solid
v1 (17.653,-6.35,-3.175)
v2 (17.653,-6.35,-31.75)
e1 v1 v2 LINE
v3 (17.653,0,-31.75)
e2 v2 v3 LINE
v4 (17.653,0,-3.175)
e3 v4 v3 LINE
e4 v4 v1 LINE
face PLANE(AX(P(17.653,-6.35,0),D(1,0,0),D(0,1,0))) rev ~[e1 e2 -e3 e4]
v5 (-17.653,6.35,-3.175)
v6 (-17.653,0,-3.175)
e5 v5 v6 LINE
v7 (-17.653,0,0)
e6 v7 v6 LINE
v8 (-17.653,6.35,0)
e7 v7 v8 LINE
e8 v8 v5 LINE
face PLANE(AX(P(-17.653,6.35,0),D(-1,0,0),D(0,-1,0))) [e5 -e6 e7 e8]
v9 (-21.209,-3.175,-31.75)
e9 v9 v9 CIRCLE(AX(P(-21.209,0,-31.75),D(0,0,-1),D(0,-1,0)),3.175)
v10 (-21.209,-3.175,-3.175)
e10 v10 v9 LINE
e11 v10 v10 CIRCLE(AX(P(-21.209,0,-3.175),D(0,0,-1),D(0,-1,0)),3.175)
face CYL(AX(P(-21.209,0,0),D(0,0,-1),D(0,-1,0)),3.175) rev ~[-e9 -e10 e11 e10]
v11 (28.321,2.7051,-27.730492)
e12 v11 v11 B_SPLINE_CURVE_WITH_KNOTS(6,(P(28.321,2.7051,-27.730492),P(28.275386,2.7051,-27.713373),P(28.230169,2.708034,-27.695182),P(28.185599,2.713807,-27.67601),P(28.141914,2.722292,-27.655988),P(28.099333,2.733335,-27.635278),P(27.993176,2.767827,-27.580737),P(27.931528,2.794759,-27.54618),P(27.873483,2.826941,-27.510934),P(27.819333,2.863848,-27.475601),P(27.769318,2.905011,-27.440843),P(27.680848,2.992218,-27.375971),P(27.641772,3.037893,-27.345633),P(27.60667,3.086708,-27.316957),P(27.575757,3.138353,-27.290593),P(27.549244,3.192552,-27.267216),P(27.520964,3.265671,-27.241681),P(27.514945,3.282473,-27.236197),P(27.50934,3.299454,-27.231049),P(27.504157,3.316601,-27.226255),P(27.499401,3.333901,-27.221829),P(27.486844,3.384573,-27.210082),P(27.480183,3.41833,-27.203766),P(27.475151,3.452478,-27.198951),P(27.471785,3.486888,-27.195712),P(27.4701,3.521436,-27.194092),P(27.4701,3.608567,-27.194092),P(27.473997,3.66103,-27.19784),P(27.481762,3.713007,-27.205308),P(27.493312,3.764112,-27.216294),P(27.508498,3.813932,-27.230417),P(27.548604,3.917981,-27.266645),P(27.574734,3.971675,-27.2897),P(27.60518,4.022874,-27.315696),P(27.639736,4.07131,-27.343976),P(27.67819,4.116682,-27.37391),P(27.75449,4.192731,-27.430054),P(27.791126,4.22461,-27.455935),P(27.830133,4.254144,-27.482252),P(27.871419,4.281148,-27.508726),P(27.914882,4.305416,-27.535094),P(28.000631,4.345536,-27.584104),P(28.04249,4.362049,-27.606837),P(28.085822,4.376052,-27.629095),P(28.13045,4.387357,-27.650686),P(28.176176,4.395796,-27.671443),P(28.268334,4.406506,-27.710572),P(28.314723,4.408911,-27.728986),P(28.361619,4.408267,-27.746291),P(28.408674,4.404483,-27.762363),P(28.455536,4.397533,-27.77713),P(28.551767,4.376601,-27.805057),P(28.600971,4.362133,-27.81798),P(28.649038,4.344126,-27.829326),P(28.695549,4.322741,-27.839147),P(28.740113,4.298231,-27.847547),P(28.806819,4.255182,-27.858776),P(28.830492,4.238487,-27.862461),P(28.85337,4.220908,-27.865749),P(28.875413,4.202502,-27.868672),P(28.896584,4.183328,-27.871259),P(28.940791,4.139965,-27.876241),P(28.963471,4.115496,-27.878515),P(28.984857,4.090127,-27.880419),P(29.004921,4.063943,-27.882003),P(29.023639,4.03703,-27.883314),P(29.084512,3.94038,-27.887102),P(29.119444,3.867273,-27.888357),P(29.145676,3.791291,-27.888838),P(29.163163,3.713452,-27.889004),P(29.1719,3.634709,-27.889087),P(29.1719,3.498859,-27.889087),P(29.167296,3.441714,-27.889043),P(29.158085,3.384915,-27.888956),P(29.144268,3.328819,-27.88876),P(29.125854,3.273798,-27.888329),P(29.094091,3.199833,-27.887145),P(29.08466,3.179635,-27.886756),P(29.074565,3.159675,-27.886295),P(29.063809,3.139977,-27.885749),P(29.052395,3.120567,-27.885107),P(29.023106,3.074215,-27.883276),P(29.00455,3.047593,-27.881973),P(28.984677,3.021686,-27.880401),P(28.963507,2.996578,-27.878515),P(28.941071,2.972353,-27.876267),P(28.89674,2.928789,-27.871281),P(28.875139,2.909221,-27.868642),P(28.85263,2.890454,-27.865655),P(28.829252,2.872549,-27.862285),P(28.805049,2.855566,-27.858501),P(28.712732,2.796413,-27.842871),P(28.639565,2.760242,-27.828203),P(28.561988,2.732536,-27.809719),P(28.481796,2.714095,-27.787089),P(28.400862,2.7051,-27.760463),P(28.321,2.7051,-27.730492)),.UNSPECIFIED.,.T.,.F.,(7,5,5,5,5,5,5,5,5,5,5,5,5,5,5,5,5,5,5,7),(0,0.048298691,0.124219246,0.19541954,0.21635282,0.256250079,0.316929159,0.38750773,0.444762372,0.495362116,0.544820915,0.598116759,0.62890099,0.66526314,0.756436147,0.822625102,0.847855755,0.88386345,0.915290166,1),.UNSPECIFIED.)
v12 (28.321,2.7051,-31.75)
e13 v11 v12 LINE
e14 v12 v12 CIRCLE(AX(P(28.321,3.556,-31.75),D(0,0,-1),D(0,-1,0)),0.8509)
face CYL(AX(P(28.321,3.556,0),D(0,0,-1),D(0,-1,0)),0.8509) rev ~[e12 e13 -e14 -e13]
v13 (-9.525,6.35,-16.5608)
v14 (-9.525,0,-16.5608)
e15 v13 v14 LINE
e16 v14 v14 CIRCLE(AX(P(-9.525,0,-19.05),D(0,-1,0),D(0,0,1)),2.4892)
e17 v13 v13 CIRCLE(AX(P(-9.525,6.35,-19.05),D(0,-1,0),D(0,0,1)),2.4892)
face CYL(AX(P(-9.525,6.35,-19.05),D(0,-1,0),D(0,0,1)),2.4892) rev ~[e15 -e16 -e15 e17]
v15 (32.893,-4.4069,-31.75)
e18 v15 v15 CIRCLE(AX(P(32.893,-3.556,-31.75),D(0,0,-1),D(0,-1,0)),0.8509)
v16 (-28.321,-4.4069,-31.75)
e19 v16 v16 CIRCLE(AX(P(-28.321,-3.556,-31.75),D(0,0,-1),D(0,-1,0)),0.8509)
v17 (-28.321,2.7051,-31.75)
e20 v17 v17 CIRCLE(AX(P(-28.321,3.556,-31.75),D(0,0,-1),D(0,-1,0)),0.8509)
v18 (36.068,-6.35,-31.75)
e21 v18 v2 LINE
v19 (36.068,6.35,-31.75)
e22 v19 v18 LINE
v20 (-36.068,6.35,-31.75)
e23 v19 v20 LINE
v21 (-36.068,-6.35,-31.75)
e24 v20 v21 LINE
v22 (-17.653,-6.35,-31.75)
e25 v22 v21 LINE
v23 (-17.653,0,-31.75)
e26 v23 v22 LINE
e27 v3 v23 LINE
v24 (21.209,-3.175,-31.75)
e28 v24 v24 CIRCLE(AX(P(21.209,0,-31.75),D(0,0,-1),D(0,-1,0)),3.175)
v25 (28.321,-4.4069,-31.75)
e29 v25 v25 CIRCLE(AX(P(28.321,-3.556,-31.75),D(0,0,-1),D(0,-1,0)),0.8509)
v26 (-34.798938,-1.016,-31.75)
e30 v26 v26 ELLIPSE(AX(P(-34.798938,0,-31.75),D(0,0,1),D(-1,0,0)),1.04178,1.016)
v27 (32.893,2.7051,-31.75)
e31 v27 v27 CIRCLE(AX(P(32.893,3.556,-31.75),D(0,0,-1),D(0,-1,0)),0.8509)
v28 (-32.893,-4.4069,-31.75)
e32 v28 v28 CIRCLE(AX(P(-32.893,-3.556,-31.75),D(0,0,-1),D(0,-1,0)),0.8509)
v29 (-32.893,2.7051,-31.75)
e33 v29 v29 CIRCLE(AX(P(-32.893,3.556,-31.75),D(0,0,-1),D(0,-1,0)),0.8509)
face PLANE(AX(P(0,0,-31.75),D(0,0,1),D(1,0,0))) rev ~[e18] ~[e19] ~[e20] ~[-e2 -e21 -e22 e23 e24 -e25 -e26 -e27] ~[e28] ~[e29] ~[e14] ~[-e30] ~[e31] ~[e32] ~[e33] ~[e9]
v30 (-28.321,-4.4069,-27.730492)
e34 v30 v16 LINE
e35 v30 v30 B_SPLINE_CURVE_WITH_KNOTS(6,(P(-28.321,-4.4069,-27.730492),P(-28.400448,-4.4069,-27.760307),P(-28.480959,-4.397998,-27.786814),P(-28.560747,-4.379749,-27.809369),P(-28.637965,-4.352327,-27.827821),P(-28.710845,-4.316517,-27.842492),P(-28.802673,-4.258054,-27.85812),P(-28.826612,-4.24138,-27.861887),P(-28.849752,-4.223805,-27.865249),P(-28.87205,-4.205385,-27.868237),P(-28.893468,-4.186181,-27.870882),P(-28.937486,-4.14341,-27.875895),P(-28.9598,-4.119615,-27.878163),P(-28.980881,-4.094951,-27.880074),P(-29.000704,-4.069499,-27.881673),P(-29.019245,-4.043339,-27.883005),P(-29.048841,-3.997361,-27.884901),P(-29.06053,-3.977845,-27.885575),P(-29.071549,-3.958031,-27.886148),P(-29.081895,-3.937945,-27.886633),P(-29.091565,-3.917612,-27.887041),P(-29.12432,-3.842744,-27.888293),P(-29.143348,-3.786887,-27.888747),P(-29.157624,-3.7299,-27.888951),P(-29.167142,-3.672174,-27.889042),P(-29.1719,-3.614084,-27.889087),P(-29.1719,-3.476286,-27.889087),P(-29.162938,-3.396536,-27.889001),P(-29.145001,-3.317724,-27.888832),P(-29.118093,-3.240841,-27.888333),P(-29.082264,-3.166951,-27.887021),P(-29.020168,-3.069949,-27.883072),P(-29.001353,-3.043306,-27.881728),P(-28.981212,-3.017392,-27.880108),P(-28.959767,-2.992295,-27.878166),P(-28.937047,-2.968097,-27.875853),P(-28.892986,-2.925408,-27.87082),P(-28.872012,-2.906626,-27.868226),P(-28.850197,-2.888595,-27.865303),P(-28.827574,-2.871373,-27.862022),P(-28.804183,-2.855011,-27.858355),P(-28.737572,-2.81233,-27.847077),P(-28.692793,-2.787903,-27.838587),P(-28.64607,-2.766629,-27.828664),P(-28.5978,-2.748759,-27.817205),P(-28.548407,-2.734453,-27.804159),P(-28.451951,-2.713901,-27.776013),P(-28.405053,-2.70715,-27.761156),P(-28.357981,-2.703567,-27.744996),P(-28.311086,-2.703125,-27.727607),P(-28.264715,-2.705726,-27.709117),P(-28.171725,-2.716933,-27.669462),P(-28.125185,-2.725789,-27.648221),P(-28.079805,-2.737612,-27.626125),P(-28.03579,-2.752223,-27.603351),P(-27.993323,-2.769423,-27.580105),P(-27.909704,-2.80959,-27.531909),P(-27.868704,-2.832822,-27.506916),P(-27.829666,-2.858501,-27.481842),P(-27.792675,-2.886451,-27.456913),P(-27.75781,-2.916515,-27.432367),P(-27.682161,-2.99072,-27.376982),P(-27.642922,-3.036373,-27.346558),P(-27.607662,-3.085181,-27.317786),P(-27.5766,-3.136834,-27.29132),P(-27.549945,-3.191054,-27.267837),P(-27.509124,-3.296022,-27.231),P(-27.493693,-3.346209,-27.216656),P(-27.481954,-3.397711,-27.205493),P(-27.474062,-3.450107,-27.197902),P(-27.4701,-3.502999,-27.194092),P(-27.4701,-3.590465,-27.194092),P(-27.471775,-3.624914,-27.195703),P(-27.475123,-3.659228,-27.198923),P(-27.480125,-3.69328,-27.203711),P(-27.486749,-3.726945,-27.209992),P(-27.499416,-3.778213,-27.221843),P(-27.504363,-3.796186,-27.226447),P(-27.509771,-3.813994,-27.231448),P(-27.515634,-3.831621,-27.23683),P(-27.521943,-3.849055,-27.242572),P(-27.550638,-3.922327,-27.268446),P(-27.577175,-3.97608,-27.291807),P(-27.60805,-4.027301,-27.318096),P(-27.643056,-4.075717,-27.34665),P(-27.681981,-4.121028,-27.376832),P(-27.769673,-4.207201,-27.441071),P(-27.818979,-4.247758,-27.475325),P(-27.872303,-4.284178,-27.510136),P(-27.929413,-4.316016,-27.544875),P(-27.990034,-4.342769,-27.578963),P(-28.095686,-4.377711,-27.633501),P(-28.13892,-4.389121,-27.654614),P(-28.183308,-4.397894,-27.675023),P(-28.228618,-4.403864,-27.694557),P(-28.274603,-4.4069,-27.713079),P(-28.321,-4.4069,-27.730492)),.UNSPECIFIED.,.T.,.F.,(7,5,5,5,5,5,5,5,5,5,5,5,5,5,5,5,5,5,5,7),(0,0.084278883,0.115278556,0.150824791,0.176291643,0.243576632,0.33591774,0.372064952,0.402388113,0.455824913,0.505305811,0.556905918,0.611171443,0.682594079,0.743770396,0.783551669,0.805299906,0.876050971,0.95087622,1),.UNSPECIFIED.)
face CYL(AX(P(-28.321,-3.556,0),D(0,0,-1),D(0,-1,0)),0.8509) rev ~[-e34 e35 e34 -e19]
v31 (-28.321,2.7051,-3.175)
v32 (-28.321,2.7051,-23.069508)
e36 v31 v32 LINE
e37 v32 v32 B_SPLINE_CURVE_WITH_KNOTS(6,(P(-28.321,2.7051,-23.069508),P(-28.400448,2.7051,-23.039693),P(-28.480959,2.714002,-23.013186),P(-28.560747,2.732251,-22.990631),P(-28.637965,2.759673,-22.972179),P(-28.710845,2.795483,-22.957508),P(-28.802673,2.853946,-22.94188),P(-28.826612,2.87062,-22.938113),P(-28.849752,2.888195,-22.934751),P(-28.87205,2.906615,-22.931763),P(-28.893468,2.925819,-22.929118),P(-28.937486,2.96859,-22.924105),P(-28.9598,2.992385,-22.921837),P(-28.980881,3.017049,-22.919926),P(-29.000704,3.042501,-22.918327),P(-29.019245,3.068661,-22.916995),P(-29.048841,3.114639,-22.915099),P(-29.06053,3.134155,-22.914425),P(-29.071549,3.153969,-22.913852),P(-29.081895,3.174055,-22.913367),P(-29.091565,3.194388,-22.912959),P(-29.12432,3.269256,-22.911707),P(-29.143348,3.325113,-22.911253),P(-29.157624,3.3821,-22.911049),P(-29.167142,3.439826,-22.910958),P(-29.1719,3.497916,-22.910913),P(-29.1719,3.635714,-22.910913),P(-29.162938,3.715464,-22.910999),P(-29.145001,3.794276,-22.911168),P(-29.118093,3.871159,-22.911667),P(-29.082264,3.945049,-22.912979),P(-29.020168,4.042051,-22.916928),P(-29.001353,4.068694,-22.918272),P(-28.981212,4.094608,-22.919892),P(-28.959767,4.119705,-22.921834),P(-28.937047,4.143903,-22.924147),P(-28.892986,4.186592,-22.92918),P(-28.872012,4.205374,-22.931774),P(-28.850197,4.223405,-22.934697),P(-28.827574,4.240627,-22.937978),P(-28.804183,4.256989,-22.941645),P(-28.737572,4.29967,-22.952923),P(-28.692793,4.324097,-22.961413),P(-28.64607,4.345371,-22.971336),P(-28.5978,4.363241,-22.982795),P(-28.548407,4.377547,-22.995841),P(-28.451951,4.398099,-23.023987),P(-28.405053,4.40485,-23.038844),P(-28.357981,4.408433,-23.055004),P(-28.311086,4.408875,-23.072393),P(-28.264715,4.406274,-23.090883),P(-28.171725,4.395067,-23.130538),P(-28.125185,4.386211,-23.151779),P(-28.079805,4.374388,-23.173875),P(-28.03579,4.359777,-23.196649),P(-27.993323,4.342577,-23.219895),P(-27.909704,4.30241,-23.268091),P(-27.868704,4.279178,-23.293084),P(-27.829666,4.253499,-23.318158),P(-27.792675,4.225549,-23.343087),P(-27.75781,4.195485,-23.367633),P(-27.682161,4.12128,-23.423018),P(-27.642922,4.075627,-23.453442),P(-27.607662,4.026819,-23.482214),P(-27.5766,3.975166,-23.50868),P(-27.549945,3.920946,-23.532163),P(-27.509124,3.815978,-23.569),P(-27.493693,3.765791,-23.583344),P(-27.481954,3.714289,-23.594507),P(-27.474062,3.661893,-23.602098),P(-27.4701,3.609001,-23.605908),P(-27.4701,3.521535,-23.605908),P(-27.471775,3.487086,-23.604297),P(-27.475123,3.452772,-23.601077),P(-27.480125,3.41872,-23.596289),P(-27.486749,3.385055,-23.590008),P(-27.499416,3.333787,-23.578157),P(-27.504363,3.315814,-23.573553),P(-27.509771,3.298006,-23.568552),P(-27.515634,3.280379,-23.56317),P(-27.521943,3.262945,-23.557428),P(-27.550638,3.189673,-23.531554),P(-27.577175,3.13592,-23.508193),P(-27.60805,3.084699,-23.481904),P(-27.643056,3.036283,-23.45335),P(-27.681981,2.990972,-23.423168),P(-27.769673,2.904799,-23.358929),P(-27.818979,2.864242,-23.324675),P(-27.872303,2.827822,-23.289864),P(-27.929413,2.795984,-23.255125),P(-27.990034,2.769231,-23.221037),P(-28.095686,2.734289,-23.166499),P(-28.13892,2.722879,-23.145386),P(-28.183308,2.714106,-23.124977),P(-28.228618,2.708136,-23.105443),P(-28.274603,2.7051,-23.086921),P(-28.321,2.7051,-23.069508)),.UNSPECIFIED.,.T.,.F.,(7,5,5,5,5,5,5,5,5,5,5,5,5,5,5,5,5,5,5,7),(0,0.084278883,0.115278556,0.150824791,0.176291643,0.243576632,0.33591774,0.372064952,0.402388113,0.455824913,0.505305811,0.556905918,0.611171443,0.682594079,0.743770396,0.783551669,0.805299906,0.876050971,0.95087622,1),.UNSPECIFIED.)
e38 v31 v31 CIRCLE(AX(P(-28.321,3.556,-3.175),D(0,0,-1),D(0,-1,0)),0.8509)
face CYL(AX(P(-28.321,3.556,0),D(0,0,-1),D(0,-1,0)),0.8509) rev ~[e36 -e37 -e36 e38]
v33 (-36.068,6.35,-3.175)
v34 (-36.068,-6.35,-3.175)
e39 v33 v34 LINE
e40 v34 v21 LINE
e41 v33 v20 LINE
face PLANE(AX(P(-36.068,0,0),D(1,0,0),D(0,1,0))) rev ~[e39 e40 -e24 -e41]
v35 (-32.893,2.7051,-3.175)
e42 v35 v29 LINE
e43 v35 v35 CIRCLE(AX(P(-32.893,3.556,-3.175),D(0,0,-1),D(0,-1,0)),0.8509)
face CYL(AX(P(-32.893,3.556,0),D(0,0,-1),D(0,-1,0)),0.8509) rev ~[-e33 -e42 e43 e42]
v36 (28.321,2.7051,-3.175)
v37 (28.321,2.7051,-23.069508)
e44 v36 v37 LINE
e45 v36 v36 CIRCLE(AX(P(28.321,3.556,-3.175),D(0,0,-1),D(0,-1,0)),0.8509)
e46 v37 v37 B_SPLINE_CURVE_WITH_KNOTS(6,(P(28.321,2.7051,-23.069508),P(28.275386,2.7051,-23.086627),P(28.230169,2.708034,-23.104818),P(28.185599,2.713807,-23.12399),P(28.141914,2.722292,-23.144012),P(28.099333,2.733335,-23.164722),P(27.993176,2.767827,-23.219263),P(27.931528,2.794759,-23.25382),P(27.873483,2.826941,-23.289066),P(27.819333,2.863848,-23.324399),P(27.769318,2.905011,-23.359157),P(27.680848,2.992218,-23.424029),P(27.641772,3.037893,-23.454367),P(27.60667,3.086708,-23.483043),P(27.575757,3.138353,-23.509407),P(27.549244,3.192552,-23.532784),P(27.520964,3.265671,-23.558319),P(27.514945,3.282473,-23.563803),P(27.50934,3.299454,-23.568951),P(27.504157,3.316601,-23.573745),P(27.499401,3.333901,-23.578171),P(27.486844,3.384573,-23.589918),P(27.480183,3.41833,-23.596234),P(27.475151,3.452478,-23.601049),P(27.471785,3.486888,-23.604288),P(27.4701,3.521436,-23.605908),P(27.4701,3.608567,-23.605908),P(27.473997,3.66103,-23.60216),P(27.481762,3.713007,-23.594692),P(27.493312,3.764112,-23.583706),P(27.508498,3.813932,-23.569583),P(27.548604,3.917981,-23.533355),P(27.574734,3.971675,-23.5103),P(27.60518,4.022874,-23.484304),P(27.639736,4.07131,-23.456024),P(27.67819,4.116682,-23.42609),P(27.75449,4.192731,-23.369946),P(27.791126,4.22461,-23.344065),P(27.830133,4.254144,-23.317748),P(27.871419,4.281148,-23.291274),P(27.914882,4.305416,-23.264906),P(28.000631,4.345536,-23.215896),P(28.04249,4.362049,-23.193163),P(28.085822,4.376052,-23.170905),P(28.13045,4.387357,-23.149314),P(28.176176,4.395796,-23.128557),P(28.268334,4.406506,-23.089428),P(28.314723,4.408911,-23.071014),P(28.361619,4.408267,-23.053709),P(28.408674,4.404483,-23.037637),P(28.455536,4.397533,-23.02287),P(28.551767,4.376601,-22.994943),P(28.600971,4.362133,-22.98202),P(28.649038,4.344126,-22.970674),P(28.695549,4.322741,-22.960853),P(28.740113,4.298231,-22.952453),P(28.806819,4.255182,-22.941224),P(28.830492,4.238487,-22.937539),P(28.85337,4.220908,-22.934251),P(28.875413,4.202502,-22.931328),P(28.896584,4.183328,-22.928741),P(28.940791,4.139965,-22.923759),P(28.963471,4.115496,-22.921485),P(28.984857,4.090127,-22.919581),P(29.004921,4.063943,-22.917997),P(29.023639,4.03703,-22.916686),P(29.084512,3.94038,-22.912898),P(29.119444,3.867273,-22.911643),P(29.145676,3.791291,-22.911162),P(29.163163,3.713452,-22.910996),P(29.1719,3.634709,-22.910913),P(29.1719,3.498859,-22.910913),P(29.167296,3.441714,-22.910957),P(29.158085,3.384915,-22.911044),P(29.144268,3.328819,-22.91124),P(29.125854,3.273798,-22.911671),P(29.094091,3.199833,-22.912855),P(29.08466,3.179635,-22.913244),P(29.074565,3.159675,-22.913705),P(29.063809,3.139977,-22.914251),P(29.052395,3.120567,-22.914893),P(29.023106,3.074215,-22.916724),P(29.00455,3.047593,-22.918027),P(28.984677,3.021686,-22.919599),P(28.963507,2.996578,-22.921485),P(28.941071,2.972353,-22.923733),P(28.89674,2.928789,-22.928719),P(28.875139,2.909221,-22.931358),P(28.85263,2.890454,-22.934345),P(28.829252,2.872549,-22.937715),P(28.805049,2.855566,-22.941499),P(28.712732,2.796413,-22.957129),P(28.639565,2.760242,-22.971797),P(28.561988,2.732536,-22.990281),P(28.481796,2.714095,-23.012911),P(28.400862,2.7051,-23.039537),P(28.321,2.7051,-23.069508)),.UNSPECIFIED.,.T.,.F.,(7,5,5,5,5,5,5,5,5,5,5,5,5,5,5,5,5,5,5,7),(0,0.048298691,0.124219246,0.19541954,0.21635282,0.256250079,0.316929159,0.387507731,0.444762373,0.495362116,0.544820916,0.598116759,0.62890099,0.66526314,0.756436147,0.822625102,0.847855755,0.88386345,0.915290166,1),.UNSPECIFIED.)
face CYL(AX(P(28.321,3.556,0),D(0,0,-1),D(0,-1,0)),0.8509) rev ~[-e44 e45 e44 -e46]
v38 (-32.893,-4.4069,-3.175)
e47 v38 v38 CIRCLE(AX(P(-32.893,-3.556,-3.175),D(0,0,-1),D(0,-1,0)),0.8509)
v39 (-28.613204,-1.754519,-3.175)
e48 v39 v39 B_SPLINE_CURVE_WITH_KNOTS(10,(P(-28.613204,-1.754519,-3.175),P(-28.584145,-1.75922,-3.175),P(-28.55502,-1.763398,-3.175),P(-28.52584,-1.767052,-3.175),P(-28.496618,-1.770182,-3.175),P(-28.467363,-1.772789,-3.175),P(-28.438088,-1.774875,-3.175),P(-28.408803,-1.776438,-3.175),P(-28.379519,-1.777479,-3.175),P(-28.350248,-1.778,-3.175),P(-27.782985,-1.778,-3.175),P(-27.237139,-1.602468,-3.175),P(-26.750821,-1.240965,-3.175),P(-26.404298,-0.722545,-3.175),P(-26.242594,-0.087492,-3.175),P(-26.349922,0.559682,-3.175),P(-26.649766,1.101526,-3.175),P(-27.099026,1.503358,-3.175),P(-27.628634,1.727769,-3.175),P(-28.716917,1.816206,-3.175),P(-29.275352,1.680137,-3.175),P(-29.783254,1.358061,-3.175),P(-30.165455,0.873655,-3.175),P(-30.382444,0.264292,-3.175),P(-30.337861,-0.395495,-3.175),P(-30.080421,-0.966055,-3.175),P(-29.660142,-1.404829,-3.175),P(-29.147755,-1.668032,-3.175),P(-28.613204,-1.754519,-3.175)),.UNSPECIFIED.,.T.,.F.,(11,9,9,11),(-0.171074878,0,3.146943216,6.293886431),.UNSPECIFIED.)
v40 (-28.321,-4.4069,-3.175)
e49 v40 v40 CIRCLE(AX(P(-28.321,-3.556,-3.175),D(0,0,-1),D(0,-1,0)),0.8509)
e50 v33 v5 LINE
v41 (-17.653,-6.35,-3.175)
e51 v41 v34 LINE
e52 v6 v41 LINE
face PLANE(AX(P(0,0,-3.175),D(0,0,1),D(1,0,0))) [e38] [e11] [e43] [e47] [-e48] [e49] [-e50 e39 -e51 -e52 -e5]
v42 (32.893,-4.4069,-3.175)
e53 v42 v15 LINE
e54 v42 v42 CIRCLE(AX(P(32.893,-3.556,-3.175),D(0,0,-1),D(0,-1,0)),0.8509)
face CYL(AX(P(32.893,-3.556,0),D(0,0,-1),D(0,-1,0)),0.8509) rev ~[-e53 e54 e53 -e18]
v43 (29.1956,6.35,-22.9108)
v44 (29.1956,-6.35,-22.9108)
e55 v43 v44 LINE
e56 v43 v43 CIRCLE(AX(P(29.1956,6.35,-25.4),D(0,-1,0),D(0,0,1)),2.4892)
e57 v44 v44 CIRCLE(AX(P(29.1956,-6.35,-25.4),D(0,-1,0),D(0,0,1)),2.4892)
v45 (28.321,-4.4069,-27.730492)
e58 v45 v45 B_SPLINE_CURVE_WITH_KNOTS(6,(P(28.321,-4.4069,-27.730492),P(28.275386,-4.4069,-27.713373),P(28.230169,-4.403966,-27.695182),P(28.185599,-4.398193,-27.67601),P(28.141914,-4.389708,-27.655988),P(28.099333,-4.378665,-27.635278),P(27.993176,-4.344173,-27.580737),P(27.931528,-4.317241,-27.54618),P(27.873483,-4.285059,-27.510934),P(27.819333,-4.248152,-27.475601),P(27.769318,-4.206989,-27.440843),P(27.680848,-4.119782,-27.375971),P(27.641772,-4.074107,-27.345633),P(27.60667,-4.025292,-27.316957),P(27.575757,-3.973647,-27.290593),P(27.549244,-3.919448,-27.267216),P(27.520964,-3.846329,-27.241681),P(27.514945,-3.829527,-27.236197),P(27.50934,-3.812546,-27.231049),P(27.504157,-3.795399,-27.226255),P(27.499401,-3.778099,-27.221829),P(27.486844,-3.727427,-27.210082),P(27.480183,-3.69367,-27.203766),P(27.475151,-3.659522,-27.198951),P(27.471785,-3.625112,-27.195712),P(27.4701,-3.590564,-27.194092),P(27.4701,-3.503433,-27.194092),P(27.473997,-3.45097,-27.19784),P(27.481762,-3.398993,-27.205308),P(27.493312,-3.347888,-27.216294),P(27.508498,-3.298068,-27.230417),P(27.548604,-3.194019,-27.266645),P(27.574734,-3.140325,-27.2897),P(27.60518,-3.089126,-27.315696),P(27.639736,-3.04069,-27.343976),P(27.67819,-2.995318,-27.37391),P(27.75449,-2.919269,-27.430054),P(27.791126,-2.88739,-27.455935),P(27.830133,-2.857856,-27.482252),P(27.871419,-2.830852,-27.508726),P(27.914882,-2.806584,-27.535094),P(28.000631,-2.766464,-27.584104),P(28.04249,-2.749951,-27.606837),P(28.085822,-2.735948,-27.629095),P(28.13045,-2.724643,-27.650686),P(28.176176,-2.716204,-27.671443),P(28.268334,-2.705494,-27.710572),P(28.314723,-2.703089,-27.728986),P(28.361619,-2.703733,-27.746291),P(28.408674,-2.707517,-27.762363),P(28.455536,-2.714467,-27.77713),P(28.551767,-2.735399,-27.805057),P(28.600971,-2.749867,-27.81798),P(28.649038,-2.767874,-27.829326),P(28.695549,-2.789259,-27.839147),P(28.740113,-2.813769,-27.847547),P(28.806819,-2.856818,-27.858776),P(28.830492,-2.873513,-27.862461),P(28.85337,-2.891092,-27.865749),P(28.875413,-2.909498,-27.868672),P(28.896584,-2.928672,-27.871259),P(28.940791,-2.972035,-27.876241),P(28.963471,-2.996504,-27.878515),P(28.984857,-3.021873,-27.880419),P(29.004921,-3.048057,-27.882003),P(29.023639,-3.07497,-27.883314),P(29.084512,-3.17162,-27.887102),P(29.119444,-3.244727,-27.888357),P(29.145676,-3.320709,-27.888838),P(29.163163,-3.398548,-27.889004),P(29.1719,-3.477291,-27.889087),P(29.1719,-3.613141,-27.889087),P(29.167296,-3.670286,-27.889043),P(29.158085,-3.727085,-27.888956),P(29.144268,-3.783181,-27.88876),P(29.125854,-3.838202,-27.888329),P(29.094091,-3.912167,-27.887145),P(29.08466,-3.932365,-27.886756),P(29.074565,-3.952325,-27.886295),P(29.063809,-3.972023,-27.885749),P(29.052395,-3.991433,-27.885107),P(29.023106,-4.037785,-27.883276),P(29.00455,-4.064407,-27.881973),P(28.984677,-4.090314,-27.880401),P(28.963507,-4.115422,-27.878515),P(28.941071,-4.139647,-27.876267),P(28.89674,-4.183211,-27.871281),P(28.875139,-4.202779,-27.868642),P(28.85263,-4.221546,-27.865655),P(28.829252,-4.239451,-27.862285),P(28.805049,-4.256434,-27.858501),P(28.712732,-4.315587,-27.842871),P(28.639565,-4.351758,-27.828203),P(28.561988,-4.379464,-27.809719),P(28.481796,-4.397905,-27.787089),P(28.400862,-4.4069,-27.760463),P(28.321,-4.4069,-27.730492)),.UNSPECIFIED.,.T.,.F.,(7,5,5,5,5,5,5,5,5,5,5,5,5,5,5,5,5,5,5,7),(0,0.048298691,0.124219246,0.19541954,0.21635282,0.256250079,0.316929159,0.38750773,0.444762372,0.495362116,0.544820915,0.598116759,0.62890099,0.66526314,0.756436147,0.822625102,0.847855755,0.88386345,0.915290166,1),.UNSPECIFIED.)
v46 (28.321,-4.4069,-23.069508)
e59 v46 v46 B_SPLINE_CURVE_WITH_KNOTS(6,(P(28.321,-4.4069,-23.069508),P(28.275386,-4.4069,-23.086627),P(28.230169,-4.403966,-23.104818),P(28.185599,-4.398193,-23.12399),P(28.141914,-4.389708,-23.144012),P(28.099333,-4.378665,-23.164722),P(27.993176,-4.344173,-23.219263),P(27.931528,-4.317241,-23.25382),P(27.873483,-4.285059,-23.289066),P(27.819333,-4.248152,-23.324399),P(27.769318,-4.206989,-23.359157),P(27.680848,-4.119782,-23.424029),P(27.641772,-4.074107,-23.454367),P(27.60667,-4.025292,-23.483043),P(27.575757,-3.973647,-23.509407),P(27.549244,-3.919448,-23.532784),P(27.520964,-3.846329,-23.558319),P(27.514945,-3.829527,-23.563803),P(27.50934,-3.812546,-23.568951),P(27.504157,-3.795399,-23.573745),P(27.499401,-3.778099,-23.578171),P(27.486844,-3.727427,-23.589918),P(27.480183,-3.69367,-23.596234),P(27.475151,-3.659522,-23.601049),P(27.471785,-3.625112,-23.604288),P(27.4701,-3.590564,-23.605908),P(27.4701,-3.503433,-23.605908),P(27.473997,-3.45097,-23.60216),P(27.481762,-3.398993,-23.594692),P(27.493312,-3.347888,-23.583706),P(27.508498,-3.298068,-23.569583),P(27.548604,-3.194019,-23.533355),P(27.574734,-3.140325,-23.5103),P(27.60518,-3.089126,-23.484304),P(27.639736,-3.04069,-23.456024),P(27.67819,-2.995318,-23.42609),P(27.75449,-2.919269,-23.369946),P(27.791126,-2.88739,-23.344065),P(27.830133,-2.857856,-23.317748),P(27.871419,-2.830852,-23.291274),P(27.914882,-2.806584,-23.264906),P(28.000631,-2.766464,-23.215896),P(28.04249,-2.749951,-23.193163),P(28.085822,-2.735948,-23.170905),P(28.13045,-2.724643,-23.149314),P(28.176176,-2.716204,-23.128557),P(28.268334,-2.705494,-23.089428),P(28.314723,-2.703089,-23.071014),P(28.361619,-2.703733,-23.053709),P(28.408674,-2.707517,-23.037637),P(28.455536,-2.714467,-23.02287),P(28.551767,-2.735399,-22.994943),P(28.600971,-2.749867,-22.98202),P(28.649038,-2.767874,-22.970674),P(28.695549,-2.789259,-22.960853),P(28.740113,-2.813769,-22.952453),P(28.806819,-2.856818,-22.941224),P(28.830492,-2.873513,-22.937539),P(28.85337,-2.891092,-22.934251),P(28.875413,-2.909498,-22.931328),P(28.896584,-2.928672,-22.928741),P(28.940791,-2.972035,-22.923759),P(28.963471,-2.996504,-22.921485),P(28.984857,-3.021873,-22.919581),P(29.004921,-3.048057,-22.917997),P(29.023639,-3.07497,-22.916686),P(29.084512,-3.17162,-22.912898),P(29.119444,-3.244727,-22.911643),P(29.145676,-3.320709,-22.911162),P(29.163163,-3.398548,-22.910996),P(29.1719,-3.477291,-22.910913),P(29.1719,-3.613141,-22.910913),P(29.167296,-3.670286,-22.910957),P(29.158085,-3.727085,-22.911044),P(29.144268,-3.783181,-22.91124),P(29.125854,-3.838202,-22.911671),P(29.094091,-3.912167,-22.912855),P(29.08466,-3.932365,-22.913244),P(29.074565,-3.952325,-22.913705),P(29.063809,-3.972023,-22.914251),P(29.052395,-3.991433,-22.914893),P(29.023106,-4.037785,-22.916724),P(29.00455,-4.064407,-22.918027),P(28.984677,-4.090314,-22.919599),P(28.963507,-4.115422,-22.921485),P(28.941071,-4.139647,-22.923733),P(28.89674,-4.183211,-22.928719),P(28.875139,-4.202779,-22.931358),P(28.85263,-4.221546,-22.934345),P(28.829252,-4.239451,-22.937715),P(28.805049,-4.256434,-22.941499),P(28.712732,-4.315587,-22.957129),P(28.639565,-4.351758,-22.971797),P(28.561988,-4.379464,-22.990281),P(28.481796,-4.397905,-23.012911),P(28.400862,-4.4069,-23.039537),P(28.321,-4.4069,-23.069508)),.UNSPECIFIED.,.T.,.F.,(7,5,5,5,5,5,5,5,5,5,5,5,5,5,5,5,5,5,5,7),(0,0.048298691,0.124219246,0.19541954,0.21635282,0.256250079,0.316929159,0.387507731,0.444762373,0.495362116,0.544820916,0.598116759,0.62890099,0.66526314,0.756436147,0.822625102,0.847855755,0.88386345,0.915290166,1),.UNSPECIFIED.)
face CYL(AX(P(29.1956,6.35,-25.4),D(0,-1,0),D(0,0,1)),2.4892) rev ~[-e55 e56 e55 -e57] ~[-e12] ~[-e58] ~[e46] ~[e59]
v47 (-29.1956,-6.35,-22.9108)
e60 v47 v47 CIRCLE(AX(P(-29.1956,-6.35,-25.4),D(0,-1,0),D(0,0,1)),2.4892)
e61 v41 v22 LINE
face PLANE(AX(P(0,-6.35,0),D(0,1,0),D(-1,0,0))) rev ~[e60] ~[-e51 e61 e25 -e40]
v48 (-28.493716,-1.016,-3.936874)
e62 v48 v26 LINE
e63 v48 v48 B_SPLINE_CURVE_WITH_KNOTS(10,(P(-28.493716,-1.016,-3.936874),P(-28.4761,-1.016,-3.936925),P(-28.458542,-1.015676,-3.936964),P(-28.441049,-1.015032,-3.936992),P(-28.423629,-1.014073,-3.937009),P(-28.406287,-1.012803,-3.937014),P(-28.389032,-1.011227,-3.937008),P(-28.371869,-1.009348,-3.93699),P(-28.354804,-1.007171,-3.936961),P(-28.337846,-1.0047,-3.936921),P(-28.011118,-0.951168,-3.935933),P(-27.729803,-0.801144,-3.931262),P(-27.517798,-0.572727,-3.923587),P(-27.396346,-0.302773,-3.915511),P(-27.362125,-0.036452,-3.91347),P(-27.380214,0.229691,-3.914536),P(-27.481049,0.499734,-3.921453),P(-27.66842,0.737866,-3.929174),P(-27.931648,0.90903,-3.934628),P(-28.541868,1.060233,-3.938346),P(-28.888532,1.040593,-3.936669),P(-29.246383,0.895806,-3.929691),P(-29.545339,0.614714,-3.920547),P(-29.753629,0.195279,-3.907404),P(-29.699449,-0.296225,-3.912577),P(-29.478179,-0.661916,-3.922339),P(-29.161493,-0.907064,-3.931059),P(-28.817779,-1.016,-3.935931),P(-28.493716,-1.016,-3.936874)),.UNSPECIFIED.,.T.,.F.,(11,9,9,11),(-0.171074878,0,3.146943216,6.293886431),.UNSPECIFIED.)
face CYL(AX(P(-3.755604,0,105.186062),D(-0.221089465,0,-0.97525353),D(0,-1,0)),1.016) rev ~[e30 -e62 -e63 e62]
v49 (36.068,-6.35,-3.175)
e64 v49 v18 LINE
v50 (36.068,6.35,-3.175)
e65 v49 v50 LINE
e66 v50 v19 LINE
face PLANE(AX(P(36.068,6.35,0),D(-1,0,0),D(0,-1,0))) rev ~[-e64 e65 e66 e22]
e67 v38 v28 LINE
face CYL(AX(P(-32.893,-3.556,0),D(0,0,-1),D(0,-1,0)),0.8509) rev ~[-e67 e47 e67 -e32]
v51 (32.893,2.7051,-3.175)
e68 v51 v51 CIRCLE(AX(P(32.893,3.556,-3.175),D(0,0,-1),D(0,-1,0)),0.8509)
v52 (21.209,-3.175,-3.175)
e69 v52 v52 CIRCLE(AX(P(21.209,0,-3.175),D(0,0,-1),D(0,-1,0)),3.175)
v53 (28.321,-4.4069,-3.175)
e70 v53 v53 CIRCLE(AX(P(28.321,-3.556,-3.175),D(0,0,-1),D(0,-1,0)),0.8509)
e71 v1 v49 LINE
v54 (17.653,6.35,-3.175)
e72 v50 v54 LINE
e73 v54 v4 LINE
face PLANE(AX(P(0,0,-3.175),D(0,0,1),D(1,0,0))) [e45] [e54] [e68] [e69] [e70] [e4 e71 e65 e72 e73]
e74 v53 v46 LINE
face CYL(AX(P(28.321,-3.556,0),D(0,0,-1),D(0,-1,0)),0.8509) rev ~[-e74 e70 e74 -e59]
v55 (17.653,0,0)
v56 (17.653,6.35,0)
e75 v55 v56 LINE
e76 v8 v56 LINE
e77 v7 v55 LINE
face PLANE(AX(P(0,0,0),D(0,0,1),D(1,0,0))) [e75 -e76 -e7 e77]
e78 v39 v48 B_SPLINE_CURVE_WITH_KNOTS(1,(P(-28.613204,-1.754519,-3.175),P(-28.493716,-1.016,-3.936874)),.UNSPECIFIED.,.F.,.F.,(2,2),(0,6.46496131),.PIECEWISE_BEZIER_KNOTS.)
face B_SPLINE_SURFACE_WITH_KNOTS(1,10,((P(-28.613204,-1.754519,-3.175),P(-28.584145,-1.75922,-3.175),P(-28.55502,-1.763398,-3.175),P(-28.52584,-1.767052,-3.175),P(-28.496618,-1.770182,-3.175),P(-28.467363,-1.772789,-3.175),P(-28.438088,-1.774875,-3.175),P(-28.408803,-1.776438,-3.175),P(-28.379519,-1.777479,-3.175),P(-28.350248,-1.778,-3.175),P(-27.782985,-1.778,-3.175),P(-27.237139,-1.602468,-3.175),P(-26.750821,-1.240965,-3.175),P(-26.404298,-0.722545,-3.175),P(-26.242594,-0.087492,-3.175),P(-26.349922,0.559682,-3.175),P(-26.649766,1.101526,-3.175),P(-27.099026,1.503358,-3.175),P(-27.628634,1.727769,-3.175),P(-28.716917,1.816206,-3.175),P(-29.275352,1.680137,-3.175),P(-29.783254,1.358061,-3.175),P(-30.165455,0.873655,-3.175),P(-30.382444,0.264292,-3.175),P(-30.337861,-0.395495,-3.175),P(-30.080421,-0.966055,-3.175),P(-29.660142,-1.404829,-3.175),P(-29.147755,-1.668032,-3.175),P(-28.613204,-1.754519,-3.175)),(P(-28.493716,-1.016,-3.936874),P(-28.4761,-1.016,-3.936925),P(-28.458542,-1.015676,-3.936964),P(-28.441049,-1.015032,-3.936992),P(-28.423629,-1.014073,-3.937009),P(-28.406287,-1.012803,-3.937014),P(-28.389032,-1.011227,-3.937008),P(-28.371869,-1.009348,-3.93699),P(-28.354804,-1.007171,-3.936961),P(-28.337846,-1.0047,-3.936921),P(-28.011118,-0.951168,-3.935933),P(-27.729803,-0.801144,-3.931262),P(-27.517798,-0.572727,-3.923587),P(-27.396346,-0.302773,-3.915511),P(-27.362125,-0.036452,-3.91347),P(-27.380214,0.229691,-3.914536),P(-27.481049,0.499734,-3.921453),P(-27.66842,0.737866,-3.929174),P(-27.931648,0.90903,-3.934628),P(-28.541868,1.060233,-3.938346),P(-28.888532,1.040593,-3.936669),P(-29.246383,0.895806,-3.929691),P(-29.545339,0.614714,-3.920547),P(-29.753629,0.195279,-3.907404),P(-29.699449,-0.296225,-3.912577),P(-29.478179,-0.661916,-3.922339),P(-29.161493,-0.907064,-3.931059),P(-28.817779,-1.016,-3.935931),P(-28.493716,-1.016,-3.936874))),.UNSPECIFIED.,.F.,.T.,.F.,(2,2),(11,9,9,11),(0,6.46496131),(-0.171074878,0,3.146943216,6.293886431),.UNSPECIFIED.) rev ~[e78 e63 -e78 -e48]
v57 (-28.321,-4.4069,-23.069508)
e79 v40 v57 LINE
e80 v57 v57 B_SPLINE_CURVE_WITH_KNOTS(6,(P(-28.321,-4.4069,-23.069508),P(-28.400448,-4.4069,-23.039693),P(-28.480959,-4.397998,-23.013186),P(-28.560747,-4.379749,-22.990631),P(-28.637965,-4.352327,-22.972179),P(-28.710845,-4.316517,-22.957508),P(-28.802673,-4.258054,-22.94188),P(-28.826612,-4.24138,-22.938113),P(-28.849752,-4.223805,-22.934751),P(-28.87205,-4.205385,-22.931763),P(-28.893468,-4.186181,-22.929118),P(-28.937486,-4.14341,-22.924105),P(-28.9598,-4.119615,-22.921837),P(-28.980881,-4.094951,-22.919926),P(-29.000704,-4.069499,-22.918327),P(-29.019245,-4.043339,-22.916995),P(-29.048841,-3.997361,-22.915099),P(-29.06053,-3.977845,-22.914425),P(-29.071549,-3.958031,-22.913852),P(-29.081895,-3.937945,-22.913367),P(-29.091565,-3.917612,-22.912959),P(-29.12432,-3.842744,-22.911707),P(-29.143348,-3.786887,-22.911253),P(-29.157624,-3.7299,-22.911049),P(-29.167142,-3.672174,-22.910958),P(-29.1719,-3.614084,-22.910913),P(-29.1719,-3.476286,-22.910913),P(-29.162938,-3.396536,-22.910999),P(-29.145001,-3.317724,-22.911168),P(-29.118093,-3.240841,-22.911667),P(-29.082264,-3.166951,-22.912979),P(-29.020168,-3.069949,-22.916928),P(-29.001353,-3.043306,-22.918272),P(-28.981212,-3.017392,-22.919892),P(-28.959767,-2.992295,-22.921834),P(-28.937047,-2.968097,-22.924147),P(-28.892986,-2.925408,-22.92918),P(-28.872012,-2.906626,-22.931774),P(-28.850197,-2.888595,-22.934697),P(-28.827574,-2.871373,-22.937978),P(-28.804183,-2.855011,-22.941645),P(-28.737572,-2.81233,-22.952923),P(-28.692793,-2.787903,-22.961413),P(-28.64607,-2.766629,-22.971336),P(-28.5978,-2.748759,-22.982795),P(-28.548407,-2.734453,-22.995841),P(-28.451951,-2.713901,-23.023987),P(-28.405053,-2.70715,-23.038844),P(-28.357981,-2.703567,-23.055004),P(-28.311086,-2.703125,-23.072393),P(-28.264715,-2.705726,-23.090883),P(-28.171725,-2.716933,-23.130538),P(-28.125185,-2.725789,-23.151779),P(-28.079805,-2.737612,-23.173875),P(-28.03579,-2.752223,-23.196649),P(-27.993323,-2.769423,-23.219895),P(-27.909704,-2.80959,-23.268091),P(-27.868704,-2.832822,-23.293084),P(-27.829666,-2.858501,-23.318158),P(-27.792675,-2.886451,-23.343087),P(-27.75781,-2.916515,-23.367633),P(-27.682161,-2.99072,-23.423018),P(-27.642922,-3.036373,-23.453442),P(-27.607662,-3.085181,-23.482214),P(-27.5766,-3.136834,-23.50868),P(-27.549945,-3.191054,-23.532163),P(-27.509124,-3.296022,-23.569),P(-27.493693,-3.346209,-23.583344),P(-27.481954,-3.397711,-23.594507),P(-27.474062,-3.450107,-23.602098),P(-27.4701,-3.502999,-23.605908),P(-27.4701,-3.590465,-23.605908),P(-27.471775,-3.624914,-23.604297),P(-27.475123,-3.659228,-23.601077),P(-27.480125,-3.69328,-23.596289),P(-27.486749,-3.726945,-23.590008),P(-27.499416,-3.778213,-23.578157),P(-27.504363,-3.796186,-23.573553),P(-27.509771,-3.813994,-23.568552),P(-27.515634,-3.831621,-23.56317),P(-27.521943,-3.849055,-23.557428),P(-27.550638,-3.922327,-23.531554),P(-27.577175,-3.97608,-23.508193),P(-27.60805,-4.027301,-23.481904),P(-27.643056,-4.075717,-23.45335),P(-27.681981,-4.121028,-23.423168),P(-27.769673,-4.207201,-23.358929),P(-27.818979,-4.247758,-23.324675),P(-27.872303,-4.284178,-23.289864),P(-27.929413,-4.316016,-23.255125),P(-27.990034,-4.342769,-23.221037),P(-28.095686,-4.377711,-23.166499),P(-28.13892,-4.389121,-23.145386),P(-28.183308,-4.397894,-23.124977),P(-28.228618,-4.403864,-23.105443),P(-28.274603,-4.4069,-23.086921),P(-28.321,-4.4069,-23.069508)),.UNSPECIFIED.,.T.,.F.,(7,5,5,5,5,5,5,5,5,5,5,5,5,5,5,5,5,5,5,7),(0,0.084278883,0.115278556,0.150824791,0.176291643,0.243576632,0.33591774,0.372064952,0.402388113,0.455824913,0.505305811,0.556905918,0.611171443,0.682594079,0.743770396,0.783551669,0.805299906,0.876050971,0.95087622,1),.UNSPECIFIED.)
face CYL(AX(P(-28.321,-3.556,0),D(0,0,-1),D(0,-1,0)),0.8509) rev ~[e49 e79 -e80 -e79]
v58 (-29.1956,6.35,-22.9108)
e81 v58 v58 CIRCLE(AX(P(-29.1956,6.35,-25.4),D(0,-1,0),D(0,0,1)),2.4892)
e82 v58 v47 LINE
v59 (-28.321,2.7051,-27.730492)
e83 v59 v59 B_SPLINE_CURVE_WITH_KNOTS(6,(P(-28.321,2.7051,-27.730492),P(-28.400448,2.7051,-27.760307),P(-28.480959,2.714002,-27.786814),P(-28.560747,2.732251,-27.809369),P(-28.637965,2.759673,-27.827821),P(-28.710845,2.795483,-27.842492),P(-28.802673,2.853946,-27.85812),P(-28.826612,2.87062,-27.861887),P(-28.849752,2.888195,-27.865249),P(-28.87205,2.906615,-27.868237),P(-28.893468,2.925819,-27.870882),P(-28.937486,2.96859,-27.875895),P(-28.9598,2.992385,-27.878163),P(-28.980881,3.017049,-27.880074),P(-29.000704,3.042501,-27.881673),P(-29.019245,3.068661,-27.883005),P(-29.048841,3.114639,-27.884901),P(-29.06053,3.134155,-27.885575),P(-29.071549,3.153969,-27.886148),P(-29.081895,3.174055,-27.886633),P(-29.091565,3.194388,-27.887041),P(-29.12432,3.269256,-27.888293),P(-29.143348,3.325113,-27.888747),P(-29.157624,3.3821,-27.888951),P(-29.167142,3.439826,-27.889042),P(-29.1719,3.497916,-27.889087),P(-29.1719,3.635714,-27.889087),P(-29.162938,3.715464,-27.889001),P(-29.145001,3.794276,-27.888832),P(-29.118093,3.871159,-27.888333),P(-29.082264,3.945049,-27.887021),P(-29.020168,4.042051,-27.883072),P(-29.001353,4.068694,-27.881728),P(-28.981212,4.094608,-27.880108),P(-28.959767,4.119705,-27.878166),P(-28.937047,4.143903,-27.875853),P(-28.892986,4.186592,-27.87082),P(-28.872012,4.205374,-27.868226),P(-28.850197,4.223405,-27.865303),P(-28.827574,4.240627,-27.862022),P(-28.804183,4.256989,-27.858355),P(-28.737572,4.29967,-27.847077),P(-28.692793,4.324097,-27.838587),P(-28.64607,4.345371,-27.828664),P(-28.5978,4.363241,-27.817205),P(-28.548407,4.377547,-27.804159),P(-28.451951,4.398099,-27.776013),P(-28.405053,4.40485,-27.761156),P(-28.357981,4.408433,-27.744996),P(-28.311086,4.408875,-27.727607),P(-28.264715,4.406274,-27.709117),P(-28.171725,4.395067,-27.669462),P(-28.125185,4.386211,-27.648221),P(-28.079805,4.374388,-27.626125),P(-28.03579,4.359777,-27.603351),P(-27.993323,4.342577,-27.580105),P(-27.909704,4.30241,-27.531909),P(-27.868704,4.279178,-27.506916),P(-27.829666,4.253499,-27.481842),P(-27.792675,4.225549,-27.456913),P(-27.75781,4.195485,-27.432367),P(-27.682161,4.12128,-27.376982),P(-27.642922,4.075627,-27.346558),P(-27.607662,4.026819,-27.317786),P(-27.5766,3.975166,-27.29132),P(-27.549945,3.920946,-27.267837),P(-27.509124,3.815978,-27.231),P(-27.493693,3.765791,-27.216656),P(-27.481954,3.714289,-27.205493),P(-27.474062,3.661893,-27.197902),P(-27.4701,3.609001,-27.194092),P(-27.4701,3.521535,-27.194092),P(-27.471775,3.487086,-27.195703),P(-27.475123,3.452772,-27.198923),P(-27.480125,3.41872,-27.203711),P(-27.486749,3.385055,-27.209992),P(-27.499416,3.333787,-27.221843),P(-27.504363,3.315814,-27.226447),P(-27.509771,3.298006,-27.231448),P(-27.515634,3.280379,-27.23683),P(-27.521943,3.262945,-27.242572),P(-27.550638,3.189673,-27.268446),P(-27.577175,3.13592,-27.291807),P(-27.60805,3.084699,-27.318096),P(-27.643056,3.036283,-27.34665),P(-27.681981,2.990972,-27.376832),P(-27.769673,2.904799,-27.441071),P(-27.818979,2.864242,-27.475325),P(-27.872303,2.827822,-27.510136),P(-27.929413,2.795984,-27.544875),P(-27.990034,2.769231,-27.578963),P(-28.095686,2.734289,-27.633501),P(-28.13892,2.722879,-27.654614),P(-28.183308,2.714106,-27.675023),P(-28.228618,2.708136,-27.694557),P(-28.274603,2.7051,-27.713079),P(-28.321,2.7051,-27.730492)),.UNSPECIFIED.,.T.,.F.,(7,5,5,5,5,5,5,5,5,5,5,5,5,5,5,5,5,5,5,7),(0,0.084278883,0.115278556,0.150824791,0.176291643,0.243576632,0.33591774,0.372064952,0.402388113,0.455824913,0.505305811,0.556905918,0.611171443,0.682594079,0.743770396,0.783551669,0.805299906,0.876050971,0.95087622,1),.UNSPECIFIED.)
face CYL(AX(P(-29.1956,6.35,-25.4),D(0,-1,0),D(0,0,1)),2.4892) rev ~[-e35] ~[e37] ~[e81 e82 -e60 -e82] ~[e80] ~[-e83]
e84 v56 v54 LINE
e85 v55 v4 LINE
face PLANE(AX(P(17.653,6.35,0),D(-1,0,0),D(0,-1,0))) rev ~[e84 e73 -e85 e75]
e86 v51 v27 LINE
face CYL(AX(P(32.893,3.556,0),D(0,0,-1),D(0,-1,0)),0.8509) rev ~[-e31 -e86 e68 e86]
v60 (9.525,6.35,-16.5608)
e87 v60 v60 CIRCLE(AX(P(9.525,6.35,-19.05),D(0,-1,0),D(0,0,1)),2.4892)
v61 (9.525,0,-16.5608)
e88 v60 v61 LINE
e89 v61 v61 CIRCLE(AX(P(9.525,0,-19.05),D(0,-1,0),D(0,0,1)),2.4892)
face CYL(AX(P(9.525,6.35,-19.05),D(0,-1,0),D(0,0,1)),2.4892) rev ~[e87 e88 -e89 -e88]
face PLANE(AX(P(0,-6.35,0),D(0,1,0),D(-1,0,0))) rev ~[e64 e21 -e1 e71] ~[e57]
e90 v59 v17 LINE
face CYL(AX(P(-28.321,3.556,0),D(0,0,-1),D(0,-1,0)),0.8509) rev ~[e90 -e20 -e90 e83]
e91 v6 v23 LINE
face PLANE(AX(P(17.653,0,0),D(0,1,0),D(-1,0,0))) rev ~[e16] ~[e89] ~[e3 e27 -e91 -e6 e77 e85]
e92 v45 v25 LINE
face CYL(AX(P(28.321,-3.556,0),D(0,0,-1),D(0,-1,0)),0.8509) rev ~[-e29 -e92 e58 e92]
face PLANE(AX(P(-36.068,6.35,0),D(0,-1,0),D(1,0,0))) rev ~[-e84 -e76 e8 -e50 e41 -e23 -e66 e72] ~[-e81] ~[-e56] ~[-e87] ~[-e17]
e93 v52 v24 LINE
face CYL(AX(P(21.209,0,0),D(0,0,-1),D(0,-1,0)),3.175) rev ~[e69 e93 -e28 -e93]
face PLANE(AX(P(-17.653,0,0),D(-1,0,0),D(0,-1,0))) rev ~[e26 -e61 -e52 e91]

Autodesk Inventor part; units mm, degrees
ref_plane "YZ Plane" through (0, 0, 0) normal (1, 0, 0) x (0, 1, 0)
ref_plane "XZ Plane" through (0, 0, 0) normal (0, 1, 0) x (-1, 0, 0)
sketch "Sketch1" plane through (0, 0, 0) normal (0, 0, 1) x (1, 0, 0)
  line L0 (-50.4952, 0) -> (50.4952, 0) projected
  line L1 (0, -8.89) -> (0, 8.89) projected
  line L2 (-36.068, 6.35) -> (36.068, 6.35)
  line L3 (36.068, 6.35) -> (36.068, -6.35)
  line L4 (36.068, -6.35) -> (-36.068, -6.35)
  line L5 (-36.068, -6.35) -> (-36.068, 6.35)
  point P0 (0, 0)
  point P1 (-21.209, 0)
  point P2 (21.209, 0)
  dimension "d0" = 42.418
  dimension "front_mount_width" = 72.136
  dimension "d2" = 12.7
extrude "Extrusion1" add sketch "Sketch1" against normal blind 31.75
sketch "Sketch4" plane through (0, 0, 0) normal (0, 0, 1) x (1, 0, 0)
  line L0 (-50.4952, 0) -> (50.4952, 0) projected
  line L1 (0, -8.89) -> (0, 8.89) projected
  line L2 (-36.703, 6.35) -> (-17.653, 6.35)
  line L3 (-17.653, 6.35) -> (-17.653, -6.35)
  line L4 (-17.653, -6.35) -> (-36.703, -6.35)
  line L5 (-36.703, -6.35) -> (-36.703, 6.35)
  line L6 (36.703, 6.35) -> (17.653, 6.35)
  line L7 (17.653, 6.35) -> (17.653, -6.35)
  line L8 (17.653, -6.35) -> (36.703, -6.35)
  line L9 (36.703, -6.35) -> (36.703, 6.35)
  point P0 (0, 0)
  point P1 (-21.209, 0)
  dimension "d8" = 12.7
  dimension "d9" = 19.05
  dimension "d10" = 15.494
sketch "Sketch3" plane through (0, 0, 0) normal (0, 0, 1) x (1, 0, 0)
  line L0 (0, -8.89) -> (0, 8.89) projected
  line L1 (-50.4952, 0) -> (50.4952, 0) projected
  point P0 (0, 0)
  point P1 (-21.209, 0)
  point P2 (21.209, 0)
  point P3 (-14.097, 3.556)
  point P4 (-9.525, 3.556)
  point P5 (-14.097, -3.556)
  point P6 (-9.525, -3.556)
  point P7 (14.097, 3.556)
  point P8 (9.525, 3.556)
  point P9 (14.097, -3.556)
  point P10 (9.525, -3.556)
  dimension "d5" = 7.112
  dimension "d6" = 11.684
  dimension "d7" = 3.556
sketch "Sketch6" plane through (-36.068, 6.35, 0) normal (0, 1, 0) x (1, 0, 0)
  line L0 (93.218, 0) -> (-21.082, 0)
  line L1 (-21.082, 0) -> (-21.082, 31.75)
  line L2 (-21.082, 31.75) -> (93.218, 31.75)
  line L3 (93.218, 31.75) -> (93.218, 0)
  line L4 (0, 31.75) -> (72.136, 31.75) projected
  line L5 (0, 0) -> (72.136, 0) projected
  line L6 (36.068, 38.1) -> (36.068, -6.35) projected
  point P0 (36.068, 0)
  dimension "d27" = 57.15
extrude "Extrusion3" [suppressed]
extrude "Extrusion2" cut sketch "Sketch4" against normal blind 3.175
hole "Hole1" [suppressed]
sketch "Sketch5" plane through (0, 0, 0) normal (0, 0, 1) x (1, 0, 0)
  point P0 (0, 0)
  point P1 (-21.209, 0)
  point P2 (21.209, 0)
hole "Hole2" at (-21.209, 0, 0) at (21.209, 0, 0) direction (0, 0, -1) diameter 6.35 depth 50.8 tip angle 118
sketch "Sketch8" plane through (57.15, 9.525, 0) normal (0, 1, 0) x (1, 0, 0)
  line L0 (-57.15, 30.48) -> (-57.15, -5.08) projected
  line L1 (-114.3, 0) -> (0, 0) projected
  point P0 (-57.15, 0)
  point P1 (-103.1875, 6.35)
  point P2 (-11.1125, 6.35)
  dimension "d39" = 46.0375
  dimension "d40" = 6.35
hole "Hole4" [suppressed]
sketch "Sketch9" plane through (57.15, 9.525, 0) normal (0, 1, 0) x (1, 0, 0)
  line L0 (-57.15, 30.48) -> (-57.15, -5.08) projected
  line L1 (-114.3, 0) -> (0, 0) projected
  point P0 (-57.15, 0)
  point P1 (-86.3092, 6.35)
  point P2 (-27.9908, 6.35)
  dimension "d48" = 58.3184
  dimension "d49" = 6.35
hole "Hole5" [suppressed]
sketch "Sketch10" plane through (-36.068, 6.35, 0) normal (0, 1, 0) x (1, 0, 0)
  line L0 (6.9088, 25.4) -> (6.9088, 8.89) construction
  line L1 (4.4196, 25.4) -> (4.4196, 8.89)
  line L2 (9.398, 8.89) -> (9.398, 25.4)
  arc A0 (9.398, 25.4) -> (4.4196, 25.4) centre (6.9088, 25.4) ccw
  arc A1 (4.4196, 8.89) -> (9.398, 8.89) centre (6.9088, 8.89) ccw
  line L3 (36.068, 38.1) -> (36.068, -6.35) projected
  line L4 (67.7164, 25.4) -> (67.7164, 8.89)
  line L5 (62.738, 8.89) -> (62.738, 25.4)
  arc A2 (67.7164, 25.4) -> (62.738, 25.4) centre (65.2272, 25.4) ccw
  arc A3 (62.738, 8.89) -> (67.7164, 8.89) centre (65.2272, 8.89) ccw
  line L6 (0, 0) -> (72.136, 0) projected
  line L7 (0, 31.75) -> (72.136, 31.75) projected
  point P0 (36.068, 0)
  point P1 (6.9088, 17.145)
  dimension "d57" = 58.3184
  dimension "d58" = 4.9784
  dimension "d59" = 8.89
  dimension "d60" = 6.35
extrude "Extrusion4" [suppressed]
sketch "Sketch12" plane through (0, 0, 0) normal (0, 0, 1) x (1, 0, 0)
  line L0 (-50.4952, 0) -> (50.4952, 0) projected
  line L1 (0, -8.89) -> (0, 8.89) projected
  point P0 (0, 0)
  point P1 (-21.209, 0)
  point P2 (-28.321, 3.556)
  point P3 (-32.893, 3.556)
  point P4 (-28.321, -3.556)
  point P5 (-32.893, -3.556)
  point P6 (28.321, 3.556)
  point P7 (32.893, 3.556)
  point P8 (32.893, -3.556)
  point P9 (28.321, -3.556)
  dimension "d63" = 7.112
  dimension "d64" = 11.684
  dimension "d65" = 3.556
hole "Hole6" at (-32.893, 3.556, 0) at (-28.321, 3.556, 0) at (-32.893, -3.556, 0) at (-28.321, -3.556, 0) at (28.321, 3.556, 0) at (32.893, 3.556, 0) at (28.321, -3.556, 0) at (32.893, -3.556, 0) direction (0, 0, -1) diameter 1.7018 depth 50.8 tip angle 118
sketch "Sketch13" plane through (-36.068, -6.35, -31.75) normal (0, -1, 0) x (1, 0, 0)
  line L0 (36.068, -6.35) -> (36.068, 38.1) projected
  line L1 (-14.4272, 31.75) -> (86.5632, 31.75) projected
  line L2 (53.721, 31.75) -> (18.415, 31.75) projected
  line L3 (21.7805, 31.75) -> (50.3555, 31.75)
  line L4 (50.3555, 31.75) -> (50.3555, 0)
  line L5 (50.3555, 0) -> (21.7805, 0)
  line L6 (21.7805, 0) -> (21.7805, 31.75)
  line L7 (72.136, 0) -> (0, 0) projected
  point P0 (36.068, 31.75)
  point P1 (36.068, 0)
  point P2 (20.712, 10.7844)
  dimension "d73" = 28.575
extrude "Extrusion5" cut sketch "Sketch13" against normal blind 6.35
chamfer "Chamfer1" [suppressed]
sketch "Sketch14" plane through (-36.068, 6.35, -31.75) normal (0, 1, 0) x (1, 0, 0)
  line L0 (36.068, 6.35) -> (36.068, -38.1) projected
  line L1 (18.415, -31.75) -> (53.721, -31.75) projected
  point P0 (36.068, -31.75)
  point P1 (6.8724, -6.35)
  point P2 (65.2636, -6.35)
  dimension "d79" = 25.4
hole "Hole7" at (-29.1956, 6.35, -25.4) at (29.1956, 6.35, -25.4) direction (0, -1, 0) diameter 4.9784 depth 25.4 tip angle 118
sketch "Sketch15" plane through (-36.068, 6.35, -31.75) normal (0, 1, 0) x (1, 0, 0)
  line L0 (36.068, 6.35) -> (36.068, -38.1) construction
  line L1 (18.415, -31.75) -> (53.721, -31.75) projected
  point P0 (36.068, -31.75)
  point P1 (26.543, -12.7)
  point P2 (45.593, -12.7)
  dimension "d87" = 19.05
  dimension "d88" = 9.525
hole "Hole8" at (-9.525, 6.35, -19.05) at (9.525, 6.35, -19.05) direction (0, -1, 0) diameter 4.9784 depth 14.9352 tip angle 118 clearance for "Flat Head Machine Screw (82)" size "#10" standard "Ansi Unified Screw Threads"
sketch "Sketch16" plane through (0, 0, 0) normal (0, 0, 1) x (1, 0, 0)
  line L0 (-14.2875, 0) -> (14.2875, 0) projected
  line L1 (0, -8.89) -> (0, 8.89) projected
  point P0 (0, 0)
  point P1 (0, 0)
  point P2 (0, 2.349)
  dimension "d96" = 2.349
hole "Hole9" [suppressed]
sketch "Sketch17" plane through (0, 0, -3.175) normal (0, 0, 1) x (1, 0, 0)
  point P0 (0, 0)
  point P1 (-21.209, 0)
  point P2 (21.209, 0)
hole "Hole10" [suppressed]
sketch "Sketch18" plane through (-36.068, 6.35, -31.75) normal (0, 1, 0) x (1, 0, 0)
  line L0 (8.5979, -28.575) -> (6.8961, -28.575) projected
  line L1 (6.8961, 0) -> (8.5979, 0) projected
  line L2 (0, 0) -> (7.747, -28.575) construction
  line L3 (0, 0) -> (6.8961, 0) construction
  line L4 (7.747, -28.575) -> (1.27, 0)
  line L5 (7.0959, -28.575) -> (0.6189, 0) construction
  line L6 (-2.0115, -15.6677) -> (-0.7269, -12.645) construction
  line L7 (8.3345, -28.2943) -> (1.8575, 0.2807) construction
  point P0 (36.068, -31.75)
  dimension "d111" = 1.27
  dimension "d112" = 0.635
ref_plane "Work Plane1" through (-28.321, 6.35, -3.175) normal (-0.2211, 0, -0.9753) x (0, -1, 0)
sketch "Sketch19" plane through (-28.321, 6.35, -3.175) normal (-0.2211, 0, -0.9753) x (0, -1, 0)
  line L0 (6.35, 22.3275) -> (6.35, -76.1645) projected
  line L1 (0, 0) -> (6.35, 0) construction
  point P0 (6.35, -26.9185)
hole "Hole11" at (-28.321, 0, -3.175) direction (-0.2211, 0, -0.9753) diameter 2.032 end through all both
chamfer "Chamfer2" distance 0.762 angle 45 1 edges at (-28.321, 1.016, -3.175)
sketch "Sketch20" plane through (0, 0, 0) normal (0, 0, 1) x (1, 0, 0)
  line L0 (-14.2875, -6.35) -> (-36.068, -6.35) projected
  line L1 (-14.2875, -6.35) -> (-17.653, -6.35)
  line L2 (-17.653, -6.35) -> (-17.653, 6.35)
  line L3 (-17.653, 6.35) -> (-14.2875, 6.35)
  line L4 (-14.2875, 6.35) -> (-14.2875, -6.35)
  line L5 (14.2875, -6.35) -> (14.2875, 0) projected
  line L6 (17.653, 6.35) -> (36.068, 6.35) projected
  line L7 (14.2875, -6.35) -> (17.653, -6.35)
  line L8 (17.653, -6.35) -> (17.653, 6.35)
  line L9 (17.653, 6.35) -> (14.2875, 6.35)
  line L10 (14.2875, 6.35) -> (14.2875, -6.35)
  point P0 (0, 0)
extrude "Extrusion6" [suppressed]
sketch "Sketch21" plane through (0, 0, 0) normal (0, 0, 1) x (1, 0, 0)
  line L0 (-17.653, 6.35) -> (-17.653, -6.35) projected
  line L1 (17.653, -6.35) -> (17.653, 6.35) projected
  line L2 (-17.653, -6.35) -> (17.653, -6.35)
  line L3 (17.653, -6.35) -> (17.653, 0)
  line L4 (17.653, 0) -> (-17.653, 0)
  line L5 (-17.653, 0) -> (-17.653, -6.35)
  point P0 (0, 0)
extrude "Extrusion7" cut sketch "Sketch21" against normal blind 50.8
sketch "Sketch22" plane through (0, 0, 0) normal (0, 0, 1) x (1, 0, 0)
  point P0 (0, 0)
equation "\"d0\" = bearing_edge_distance"
equation "\"d5\" = hole1_setback"
equation "\"d6\" = hole2_setback"
equation "\"d7\" = hole_lateral"
equation "\"d63\" = hole1_setback"
equation "\"d64\" = hole2_setback"
equation "\"d65\" = hole_lateral"
equation "\"bearing_edge_distance\" = 42.418"
equation "\"hole1_setback\" = 7.112"
equation "\"hole2_setback\" = 11.684"
equation "\"hole_lateral\" = 3.556"
properties part number "v2_front_ mount_2" material "Aluminum 6061"
